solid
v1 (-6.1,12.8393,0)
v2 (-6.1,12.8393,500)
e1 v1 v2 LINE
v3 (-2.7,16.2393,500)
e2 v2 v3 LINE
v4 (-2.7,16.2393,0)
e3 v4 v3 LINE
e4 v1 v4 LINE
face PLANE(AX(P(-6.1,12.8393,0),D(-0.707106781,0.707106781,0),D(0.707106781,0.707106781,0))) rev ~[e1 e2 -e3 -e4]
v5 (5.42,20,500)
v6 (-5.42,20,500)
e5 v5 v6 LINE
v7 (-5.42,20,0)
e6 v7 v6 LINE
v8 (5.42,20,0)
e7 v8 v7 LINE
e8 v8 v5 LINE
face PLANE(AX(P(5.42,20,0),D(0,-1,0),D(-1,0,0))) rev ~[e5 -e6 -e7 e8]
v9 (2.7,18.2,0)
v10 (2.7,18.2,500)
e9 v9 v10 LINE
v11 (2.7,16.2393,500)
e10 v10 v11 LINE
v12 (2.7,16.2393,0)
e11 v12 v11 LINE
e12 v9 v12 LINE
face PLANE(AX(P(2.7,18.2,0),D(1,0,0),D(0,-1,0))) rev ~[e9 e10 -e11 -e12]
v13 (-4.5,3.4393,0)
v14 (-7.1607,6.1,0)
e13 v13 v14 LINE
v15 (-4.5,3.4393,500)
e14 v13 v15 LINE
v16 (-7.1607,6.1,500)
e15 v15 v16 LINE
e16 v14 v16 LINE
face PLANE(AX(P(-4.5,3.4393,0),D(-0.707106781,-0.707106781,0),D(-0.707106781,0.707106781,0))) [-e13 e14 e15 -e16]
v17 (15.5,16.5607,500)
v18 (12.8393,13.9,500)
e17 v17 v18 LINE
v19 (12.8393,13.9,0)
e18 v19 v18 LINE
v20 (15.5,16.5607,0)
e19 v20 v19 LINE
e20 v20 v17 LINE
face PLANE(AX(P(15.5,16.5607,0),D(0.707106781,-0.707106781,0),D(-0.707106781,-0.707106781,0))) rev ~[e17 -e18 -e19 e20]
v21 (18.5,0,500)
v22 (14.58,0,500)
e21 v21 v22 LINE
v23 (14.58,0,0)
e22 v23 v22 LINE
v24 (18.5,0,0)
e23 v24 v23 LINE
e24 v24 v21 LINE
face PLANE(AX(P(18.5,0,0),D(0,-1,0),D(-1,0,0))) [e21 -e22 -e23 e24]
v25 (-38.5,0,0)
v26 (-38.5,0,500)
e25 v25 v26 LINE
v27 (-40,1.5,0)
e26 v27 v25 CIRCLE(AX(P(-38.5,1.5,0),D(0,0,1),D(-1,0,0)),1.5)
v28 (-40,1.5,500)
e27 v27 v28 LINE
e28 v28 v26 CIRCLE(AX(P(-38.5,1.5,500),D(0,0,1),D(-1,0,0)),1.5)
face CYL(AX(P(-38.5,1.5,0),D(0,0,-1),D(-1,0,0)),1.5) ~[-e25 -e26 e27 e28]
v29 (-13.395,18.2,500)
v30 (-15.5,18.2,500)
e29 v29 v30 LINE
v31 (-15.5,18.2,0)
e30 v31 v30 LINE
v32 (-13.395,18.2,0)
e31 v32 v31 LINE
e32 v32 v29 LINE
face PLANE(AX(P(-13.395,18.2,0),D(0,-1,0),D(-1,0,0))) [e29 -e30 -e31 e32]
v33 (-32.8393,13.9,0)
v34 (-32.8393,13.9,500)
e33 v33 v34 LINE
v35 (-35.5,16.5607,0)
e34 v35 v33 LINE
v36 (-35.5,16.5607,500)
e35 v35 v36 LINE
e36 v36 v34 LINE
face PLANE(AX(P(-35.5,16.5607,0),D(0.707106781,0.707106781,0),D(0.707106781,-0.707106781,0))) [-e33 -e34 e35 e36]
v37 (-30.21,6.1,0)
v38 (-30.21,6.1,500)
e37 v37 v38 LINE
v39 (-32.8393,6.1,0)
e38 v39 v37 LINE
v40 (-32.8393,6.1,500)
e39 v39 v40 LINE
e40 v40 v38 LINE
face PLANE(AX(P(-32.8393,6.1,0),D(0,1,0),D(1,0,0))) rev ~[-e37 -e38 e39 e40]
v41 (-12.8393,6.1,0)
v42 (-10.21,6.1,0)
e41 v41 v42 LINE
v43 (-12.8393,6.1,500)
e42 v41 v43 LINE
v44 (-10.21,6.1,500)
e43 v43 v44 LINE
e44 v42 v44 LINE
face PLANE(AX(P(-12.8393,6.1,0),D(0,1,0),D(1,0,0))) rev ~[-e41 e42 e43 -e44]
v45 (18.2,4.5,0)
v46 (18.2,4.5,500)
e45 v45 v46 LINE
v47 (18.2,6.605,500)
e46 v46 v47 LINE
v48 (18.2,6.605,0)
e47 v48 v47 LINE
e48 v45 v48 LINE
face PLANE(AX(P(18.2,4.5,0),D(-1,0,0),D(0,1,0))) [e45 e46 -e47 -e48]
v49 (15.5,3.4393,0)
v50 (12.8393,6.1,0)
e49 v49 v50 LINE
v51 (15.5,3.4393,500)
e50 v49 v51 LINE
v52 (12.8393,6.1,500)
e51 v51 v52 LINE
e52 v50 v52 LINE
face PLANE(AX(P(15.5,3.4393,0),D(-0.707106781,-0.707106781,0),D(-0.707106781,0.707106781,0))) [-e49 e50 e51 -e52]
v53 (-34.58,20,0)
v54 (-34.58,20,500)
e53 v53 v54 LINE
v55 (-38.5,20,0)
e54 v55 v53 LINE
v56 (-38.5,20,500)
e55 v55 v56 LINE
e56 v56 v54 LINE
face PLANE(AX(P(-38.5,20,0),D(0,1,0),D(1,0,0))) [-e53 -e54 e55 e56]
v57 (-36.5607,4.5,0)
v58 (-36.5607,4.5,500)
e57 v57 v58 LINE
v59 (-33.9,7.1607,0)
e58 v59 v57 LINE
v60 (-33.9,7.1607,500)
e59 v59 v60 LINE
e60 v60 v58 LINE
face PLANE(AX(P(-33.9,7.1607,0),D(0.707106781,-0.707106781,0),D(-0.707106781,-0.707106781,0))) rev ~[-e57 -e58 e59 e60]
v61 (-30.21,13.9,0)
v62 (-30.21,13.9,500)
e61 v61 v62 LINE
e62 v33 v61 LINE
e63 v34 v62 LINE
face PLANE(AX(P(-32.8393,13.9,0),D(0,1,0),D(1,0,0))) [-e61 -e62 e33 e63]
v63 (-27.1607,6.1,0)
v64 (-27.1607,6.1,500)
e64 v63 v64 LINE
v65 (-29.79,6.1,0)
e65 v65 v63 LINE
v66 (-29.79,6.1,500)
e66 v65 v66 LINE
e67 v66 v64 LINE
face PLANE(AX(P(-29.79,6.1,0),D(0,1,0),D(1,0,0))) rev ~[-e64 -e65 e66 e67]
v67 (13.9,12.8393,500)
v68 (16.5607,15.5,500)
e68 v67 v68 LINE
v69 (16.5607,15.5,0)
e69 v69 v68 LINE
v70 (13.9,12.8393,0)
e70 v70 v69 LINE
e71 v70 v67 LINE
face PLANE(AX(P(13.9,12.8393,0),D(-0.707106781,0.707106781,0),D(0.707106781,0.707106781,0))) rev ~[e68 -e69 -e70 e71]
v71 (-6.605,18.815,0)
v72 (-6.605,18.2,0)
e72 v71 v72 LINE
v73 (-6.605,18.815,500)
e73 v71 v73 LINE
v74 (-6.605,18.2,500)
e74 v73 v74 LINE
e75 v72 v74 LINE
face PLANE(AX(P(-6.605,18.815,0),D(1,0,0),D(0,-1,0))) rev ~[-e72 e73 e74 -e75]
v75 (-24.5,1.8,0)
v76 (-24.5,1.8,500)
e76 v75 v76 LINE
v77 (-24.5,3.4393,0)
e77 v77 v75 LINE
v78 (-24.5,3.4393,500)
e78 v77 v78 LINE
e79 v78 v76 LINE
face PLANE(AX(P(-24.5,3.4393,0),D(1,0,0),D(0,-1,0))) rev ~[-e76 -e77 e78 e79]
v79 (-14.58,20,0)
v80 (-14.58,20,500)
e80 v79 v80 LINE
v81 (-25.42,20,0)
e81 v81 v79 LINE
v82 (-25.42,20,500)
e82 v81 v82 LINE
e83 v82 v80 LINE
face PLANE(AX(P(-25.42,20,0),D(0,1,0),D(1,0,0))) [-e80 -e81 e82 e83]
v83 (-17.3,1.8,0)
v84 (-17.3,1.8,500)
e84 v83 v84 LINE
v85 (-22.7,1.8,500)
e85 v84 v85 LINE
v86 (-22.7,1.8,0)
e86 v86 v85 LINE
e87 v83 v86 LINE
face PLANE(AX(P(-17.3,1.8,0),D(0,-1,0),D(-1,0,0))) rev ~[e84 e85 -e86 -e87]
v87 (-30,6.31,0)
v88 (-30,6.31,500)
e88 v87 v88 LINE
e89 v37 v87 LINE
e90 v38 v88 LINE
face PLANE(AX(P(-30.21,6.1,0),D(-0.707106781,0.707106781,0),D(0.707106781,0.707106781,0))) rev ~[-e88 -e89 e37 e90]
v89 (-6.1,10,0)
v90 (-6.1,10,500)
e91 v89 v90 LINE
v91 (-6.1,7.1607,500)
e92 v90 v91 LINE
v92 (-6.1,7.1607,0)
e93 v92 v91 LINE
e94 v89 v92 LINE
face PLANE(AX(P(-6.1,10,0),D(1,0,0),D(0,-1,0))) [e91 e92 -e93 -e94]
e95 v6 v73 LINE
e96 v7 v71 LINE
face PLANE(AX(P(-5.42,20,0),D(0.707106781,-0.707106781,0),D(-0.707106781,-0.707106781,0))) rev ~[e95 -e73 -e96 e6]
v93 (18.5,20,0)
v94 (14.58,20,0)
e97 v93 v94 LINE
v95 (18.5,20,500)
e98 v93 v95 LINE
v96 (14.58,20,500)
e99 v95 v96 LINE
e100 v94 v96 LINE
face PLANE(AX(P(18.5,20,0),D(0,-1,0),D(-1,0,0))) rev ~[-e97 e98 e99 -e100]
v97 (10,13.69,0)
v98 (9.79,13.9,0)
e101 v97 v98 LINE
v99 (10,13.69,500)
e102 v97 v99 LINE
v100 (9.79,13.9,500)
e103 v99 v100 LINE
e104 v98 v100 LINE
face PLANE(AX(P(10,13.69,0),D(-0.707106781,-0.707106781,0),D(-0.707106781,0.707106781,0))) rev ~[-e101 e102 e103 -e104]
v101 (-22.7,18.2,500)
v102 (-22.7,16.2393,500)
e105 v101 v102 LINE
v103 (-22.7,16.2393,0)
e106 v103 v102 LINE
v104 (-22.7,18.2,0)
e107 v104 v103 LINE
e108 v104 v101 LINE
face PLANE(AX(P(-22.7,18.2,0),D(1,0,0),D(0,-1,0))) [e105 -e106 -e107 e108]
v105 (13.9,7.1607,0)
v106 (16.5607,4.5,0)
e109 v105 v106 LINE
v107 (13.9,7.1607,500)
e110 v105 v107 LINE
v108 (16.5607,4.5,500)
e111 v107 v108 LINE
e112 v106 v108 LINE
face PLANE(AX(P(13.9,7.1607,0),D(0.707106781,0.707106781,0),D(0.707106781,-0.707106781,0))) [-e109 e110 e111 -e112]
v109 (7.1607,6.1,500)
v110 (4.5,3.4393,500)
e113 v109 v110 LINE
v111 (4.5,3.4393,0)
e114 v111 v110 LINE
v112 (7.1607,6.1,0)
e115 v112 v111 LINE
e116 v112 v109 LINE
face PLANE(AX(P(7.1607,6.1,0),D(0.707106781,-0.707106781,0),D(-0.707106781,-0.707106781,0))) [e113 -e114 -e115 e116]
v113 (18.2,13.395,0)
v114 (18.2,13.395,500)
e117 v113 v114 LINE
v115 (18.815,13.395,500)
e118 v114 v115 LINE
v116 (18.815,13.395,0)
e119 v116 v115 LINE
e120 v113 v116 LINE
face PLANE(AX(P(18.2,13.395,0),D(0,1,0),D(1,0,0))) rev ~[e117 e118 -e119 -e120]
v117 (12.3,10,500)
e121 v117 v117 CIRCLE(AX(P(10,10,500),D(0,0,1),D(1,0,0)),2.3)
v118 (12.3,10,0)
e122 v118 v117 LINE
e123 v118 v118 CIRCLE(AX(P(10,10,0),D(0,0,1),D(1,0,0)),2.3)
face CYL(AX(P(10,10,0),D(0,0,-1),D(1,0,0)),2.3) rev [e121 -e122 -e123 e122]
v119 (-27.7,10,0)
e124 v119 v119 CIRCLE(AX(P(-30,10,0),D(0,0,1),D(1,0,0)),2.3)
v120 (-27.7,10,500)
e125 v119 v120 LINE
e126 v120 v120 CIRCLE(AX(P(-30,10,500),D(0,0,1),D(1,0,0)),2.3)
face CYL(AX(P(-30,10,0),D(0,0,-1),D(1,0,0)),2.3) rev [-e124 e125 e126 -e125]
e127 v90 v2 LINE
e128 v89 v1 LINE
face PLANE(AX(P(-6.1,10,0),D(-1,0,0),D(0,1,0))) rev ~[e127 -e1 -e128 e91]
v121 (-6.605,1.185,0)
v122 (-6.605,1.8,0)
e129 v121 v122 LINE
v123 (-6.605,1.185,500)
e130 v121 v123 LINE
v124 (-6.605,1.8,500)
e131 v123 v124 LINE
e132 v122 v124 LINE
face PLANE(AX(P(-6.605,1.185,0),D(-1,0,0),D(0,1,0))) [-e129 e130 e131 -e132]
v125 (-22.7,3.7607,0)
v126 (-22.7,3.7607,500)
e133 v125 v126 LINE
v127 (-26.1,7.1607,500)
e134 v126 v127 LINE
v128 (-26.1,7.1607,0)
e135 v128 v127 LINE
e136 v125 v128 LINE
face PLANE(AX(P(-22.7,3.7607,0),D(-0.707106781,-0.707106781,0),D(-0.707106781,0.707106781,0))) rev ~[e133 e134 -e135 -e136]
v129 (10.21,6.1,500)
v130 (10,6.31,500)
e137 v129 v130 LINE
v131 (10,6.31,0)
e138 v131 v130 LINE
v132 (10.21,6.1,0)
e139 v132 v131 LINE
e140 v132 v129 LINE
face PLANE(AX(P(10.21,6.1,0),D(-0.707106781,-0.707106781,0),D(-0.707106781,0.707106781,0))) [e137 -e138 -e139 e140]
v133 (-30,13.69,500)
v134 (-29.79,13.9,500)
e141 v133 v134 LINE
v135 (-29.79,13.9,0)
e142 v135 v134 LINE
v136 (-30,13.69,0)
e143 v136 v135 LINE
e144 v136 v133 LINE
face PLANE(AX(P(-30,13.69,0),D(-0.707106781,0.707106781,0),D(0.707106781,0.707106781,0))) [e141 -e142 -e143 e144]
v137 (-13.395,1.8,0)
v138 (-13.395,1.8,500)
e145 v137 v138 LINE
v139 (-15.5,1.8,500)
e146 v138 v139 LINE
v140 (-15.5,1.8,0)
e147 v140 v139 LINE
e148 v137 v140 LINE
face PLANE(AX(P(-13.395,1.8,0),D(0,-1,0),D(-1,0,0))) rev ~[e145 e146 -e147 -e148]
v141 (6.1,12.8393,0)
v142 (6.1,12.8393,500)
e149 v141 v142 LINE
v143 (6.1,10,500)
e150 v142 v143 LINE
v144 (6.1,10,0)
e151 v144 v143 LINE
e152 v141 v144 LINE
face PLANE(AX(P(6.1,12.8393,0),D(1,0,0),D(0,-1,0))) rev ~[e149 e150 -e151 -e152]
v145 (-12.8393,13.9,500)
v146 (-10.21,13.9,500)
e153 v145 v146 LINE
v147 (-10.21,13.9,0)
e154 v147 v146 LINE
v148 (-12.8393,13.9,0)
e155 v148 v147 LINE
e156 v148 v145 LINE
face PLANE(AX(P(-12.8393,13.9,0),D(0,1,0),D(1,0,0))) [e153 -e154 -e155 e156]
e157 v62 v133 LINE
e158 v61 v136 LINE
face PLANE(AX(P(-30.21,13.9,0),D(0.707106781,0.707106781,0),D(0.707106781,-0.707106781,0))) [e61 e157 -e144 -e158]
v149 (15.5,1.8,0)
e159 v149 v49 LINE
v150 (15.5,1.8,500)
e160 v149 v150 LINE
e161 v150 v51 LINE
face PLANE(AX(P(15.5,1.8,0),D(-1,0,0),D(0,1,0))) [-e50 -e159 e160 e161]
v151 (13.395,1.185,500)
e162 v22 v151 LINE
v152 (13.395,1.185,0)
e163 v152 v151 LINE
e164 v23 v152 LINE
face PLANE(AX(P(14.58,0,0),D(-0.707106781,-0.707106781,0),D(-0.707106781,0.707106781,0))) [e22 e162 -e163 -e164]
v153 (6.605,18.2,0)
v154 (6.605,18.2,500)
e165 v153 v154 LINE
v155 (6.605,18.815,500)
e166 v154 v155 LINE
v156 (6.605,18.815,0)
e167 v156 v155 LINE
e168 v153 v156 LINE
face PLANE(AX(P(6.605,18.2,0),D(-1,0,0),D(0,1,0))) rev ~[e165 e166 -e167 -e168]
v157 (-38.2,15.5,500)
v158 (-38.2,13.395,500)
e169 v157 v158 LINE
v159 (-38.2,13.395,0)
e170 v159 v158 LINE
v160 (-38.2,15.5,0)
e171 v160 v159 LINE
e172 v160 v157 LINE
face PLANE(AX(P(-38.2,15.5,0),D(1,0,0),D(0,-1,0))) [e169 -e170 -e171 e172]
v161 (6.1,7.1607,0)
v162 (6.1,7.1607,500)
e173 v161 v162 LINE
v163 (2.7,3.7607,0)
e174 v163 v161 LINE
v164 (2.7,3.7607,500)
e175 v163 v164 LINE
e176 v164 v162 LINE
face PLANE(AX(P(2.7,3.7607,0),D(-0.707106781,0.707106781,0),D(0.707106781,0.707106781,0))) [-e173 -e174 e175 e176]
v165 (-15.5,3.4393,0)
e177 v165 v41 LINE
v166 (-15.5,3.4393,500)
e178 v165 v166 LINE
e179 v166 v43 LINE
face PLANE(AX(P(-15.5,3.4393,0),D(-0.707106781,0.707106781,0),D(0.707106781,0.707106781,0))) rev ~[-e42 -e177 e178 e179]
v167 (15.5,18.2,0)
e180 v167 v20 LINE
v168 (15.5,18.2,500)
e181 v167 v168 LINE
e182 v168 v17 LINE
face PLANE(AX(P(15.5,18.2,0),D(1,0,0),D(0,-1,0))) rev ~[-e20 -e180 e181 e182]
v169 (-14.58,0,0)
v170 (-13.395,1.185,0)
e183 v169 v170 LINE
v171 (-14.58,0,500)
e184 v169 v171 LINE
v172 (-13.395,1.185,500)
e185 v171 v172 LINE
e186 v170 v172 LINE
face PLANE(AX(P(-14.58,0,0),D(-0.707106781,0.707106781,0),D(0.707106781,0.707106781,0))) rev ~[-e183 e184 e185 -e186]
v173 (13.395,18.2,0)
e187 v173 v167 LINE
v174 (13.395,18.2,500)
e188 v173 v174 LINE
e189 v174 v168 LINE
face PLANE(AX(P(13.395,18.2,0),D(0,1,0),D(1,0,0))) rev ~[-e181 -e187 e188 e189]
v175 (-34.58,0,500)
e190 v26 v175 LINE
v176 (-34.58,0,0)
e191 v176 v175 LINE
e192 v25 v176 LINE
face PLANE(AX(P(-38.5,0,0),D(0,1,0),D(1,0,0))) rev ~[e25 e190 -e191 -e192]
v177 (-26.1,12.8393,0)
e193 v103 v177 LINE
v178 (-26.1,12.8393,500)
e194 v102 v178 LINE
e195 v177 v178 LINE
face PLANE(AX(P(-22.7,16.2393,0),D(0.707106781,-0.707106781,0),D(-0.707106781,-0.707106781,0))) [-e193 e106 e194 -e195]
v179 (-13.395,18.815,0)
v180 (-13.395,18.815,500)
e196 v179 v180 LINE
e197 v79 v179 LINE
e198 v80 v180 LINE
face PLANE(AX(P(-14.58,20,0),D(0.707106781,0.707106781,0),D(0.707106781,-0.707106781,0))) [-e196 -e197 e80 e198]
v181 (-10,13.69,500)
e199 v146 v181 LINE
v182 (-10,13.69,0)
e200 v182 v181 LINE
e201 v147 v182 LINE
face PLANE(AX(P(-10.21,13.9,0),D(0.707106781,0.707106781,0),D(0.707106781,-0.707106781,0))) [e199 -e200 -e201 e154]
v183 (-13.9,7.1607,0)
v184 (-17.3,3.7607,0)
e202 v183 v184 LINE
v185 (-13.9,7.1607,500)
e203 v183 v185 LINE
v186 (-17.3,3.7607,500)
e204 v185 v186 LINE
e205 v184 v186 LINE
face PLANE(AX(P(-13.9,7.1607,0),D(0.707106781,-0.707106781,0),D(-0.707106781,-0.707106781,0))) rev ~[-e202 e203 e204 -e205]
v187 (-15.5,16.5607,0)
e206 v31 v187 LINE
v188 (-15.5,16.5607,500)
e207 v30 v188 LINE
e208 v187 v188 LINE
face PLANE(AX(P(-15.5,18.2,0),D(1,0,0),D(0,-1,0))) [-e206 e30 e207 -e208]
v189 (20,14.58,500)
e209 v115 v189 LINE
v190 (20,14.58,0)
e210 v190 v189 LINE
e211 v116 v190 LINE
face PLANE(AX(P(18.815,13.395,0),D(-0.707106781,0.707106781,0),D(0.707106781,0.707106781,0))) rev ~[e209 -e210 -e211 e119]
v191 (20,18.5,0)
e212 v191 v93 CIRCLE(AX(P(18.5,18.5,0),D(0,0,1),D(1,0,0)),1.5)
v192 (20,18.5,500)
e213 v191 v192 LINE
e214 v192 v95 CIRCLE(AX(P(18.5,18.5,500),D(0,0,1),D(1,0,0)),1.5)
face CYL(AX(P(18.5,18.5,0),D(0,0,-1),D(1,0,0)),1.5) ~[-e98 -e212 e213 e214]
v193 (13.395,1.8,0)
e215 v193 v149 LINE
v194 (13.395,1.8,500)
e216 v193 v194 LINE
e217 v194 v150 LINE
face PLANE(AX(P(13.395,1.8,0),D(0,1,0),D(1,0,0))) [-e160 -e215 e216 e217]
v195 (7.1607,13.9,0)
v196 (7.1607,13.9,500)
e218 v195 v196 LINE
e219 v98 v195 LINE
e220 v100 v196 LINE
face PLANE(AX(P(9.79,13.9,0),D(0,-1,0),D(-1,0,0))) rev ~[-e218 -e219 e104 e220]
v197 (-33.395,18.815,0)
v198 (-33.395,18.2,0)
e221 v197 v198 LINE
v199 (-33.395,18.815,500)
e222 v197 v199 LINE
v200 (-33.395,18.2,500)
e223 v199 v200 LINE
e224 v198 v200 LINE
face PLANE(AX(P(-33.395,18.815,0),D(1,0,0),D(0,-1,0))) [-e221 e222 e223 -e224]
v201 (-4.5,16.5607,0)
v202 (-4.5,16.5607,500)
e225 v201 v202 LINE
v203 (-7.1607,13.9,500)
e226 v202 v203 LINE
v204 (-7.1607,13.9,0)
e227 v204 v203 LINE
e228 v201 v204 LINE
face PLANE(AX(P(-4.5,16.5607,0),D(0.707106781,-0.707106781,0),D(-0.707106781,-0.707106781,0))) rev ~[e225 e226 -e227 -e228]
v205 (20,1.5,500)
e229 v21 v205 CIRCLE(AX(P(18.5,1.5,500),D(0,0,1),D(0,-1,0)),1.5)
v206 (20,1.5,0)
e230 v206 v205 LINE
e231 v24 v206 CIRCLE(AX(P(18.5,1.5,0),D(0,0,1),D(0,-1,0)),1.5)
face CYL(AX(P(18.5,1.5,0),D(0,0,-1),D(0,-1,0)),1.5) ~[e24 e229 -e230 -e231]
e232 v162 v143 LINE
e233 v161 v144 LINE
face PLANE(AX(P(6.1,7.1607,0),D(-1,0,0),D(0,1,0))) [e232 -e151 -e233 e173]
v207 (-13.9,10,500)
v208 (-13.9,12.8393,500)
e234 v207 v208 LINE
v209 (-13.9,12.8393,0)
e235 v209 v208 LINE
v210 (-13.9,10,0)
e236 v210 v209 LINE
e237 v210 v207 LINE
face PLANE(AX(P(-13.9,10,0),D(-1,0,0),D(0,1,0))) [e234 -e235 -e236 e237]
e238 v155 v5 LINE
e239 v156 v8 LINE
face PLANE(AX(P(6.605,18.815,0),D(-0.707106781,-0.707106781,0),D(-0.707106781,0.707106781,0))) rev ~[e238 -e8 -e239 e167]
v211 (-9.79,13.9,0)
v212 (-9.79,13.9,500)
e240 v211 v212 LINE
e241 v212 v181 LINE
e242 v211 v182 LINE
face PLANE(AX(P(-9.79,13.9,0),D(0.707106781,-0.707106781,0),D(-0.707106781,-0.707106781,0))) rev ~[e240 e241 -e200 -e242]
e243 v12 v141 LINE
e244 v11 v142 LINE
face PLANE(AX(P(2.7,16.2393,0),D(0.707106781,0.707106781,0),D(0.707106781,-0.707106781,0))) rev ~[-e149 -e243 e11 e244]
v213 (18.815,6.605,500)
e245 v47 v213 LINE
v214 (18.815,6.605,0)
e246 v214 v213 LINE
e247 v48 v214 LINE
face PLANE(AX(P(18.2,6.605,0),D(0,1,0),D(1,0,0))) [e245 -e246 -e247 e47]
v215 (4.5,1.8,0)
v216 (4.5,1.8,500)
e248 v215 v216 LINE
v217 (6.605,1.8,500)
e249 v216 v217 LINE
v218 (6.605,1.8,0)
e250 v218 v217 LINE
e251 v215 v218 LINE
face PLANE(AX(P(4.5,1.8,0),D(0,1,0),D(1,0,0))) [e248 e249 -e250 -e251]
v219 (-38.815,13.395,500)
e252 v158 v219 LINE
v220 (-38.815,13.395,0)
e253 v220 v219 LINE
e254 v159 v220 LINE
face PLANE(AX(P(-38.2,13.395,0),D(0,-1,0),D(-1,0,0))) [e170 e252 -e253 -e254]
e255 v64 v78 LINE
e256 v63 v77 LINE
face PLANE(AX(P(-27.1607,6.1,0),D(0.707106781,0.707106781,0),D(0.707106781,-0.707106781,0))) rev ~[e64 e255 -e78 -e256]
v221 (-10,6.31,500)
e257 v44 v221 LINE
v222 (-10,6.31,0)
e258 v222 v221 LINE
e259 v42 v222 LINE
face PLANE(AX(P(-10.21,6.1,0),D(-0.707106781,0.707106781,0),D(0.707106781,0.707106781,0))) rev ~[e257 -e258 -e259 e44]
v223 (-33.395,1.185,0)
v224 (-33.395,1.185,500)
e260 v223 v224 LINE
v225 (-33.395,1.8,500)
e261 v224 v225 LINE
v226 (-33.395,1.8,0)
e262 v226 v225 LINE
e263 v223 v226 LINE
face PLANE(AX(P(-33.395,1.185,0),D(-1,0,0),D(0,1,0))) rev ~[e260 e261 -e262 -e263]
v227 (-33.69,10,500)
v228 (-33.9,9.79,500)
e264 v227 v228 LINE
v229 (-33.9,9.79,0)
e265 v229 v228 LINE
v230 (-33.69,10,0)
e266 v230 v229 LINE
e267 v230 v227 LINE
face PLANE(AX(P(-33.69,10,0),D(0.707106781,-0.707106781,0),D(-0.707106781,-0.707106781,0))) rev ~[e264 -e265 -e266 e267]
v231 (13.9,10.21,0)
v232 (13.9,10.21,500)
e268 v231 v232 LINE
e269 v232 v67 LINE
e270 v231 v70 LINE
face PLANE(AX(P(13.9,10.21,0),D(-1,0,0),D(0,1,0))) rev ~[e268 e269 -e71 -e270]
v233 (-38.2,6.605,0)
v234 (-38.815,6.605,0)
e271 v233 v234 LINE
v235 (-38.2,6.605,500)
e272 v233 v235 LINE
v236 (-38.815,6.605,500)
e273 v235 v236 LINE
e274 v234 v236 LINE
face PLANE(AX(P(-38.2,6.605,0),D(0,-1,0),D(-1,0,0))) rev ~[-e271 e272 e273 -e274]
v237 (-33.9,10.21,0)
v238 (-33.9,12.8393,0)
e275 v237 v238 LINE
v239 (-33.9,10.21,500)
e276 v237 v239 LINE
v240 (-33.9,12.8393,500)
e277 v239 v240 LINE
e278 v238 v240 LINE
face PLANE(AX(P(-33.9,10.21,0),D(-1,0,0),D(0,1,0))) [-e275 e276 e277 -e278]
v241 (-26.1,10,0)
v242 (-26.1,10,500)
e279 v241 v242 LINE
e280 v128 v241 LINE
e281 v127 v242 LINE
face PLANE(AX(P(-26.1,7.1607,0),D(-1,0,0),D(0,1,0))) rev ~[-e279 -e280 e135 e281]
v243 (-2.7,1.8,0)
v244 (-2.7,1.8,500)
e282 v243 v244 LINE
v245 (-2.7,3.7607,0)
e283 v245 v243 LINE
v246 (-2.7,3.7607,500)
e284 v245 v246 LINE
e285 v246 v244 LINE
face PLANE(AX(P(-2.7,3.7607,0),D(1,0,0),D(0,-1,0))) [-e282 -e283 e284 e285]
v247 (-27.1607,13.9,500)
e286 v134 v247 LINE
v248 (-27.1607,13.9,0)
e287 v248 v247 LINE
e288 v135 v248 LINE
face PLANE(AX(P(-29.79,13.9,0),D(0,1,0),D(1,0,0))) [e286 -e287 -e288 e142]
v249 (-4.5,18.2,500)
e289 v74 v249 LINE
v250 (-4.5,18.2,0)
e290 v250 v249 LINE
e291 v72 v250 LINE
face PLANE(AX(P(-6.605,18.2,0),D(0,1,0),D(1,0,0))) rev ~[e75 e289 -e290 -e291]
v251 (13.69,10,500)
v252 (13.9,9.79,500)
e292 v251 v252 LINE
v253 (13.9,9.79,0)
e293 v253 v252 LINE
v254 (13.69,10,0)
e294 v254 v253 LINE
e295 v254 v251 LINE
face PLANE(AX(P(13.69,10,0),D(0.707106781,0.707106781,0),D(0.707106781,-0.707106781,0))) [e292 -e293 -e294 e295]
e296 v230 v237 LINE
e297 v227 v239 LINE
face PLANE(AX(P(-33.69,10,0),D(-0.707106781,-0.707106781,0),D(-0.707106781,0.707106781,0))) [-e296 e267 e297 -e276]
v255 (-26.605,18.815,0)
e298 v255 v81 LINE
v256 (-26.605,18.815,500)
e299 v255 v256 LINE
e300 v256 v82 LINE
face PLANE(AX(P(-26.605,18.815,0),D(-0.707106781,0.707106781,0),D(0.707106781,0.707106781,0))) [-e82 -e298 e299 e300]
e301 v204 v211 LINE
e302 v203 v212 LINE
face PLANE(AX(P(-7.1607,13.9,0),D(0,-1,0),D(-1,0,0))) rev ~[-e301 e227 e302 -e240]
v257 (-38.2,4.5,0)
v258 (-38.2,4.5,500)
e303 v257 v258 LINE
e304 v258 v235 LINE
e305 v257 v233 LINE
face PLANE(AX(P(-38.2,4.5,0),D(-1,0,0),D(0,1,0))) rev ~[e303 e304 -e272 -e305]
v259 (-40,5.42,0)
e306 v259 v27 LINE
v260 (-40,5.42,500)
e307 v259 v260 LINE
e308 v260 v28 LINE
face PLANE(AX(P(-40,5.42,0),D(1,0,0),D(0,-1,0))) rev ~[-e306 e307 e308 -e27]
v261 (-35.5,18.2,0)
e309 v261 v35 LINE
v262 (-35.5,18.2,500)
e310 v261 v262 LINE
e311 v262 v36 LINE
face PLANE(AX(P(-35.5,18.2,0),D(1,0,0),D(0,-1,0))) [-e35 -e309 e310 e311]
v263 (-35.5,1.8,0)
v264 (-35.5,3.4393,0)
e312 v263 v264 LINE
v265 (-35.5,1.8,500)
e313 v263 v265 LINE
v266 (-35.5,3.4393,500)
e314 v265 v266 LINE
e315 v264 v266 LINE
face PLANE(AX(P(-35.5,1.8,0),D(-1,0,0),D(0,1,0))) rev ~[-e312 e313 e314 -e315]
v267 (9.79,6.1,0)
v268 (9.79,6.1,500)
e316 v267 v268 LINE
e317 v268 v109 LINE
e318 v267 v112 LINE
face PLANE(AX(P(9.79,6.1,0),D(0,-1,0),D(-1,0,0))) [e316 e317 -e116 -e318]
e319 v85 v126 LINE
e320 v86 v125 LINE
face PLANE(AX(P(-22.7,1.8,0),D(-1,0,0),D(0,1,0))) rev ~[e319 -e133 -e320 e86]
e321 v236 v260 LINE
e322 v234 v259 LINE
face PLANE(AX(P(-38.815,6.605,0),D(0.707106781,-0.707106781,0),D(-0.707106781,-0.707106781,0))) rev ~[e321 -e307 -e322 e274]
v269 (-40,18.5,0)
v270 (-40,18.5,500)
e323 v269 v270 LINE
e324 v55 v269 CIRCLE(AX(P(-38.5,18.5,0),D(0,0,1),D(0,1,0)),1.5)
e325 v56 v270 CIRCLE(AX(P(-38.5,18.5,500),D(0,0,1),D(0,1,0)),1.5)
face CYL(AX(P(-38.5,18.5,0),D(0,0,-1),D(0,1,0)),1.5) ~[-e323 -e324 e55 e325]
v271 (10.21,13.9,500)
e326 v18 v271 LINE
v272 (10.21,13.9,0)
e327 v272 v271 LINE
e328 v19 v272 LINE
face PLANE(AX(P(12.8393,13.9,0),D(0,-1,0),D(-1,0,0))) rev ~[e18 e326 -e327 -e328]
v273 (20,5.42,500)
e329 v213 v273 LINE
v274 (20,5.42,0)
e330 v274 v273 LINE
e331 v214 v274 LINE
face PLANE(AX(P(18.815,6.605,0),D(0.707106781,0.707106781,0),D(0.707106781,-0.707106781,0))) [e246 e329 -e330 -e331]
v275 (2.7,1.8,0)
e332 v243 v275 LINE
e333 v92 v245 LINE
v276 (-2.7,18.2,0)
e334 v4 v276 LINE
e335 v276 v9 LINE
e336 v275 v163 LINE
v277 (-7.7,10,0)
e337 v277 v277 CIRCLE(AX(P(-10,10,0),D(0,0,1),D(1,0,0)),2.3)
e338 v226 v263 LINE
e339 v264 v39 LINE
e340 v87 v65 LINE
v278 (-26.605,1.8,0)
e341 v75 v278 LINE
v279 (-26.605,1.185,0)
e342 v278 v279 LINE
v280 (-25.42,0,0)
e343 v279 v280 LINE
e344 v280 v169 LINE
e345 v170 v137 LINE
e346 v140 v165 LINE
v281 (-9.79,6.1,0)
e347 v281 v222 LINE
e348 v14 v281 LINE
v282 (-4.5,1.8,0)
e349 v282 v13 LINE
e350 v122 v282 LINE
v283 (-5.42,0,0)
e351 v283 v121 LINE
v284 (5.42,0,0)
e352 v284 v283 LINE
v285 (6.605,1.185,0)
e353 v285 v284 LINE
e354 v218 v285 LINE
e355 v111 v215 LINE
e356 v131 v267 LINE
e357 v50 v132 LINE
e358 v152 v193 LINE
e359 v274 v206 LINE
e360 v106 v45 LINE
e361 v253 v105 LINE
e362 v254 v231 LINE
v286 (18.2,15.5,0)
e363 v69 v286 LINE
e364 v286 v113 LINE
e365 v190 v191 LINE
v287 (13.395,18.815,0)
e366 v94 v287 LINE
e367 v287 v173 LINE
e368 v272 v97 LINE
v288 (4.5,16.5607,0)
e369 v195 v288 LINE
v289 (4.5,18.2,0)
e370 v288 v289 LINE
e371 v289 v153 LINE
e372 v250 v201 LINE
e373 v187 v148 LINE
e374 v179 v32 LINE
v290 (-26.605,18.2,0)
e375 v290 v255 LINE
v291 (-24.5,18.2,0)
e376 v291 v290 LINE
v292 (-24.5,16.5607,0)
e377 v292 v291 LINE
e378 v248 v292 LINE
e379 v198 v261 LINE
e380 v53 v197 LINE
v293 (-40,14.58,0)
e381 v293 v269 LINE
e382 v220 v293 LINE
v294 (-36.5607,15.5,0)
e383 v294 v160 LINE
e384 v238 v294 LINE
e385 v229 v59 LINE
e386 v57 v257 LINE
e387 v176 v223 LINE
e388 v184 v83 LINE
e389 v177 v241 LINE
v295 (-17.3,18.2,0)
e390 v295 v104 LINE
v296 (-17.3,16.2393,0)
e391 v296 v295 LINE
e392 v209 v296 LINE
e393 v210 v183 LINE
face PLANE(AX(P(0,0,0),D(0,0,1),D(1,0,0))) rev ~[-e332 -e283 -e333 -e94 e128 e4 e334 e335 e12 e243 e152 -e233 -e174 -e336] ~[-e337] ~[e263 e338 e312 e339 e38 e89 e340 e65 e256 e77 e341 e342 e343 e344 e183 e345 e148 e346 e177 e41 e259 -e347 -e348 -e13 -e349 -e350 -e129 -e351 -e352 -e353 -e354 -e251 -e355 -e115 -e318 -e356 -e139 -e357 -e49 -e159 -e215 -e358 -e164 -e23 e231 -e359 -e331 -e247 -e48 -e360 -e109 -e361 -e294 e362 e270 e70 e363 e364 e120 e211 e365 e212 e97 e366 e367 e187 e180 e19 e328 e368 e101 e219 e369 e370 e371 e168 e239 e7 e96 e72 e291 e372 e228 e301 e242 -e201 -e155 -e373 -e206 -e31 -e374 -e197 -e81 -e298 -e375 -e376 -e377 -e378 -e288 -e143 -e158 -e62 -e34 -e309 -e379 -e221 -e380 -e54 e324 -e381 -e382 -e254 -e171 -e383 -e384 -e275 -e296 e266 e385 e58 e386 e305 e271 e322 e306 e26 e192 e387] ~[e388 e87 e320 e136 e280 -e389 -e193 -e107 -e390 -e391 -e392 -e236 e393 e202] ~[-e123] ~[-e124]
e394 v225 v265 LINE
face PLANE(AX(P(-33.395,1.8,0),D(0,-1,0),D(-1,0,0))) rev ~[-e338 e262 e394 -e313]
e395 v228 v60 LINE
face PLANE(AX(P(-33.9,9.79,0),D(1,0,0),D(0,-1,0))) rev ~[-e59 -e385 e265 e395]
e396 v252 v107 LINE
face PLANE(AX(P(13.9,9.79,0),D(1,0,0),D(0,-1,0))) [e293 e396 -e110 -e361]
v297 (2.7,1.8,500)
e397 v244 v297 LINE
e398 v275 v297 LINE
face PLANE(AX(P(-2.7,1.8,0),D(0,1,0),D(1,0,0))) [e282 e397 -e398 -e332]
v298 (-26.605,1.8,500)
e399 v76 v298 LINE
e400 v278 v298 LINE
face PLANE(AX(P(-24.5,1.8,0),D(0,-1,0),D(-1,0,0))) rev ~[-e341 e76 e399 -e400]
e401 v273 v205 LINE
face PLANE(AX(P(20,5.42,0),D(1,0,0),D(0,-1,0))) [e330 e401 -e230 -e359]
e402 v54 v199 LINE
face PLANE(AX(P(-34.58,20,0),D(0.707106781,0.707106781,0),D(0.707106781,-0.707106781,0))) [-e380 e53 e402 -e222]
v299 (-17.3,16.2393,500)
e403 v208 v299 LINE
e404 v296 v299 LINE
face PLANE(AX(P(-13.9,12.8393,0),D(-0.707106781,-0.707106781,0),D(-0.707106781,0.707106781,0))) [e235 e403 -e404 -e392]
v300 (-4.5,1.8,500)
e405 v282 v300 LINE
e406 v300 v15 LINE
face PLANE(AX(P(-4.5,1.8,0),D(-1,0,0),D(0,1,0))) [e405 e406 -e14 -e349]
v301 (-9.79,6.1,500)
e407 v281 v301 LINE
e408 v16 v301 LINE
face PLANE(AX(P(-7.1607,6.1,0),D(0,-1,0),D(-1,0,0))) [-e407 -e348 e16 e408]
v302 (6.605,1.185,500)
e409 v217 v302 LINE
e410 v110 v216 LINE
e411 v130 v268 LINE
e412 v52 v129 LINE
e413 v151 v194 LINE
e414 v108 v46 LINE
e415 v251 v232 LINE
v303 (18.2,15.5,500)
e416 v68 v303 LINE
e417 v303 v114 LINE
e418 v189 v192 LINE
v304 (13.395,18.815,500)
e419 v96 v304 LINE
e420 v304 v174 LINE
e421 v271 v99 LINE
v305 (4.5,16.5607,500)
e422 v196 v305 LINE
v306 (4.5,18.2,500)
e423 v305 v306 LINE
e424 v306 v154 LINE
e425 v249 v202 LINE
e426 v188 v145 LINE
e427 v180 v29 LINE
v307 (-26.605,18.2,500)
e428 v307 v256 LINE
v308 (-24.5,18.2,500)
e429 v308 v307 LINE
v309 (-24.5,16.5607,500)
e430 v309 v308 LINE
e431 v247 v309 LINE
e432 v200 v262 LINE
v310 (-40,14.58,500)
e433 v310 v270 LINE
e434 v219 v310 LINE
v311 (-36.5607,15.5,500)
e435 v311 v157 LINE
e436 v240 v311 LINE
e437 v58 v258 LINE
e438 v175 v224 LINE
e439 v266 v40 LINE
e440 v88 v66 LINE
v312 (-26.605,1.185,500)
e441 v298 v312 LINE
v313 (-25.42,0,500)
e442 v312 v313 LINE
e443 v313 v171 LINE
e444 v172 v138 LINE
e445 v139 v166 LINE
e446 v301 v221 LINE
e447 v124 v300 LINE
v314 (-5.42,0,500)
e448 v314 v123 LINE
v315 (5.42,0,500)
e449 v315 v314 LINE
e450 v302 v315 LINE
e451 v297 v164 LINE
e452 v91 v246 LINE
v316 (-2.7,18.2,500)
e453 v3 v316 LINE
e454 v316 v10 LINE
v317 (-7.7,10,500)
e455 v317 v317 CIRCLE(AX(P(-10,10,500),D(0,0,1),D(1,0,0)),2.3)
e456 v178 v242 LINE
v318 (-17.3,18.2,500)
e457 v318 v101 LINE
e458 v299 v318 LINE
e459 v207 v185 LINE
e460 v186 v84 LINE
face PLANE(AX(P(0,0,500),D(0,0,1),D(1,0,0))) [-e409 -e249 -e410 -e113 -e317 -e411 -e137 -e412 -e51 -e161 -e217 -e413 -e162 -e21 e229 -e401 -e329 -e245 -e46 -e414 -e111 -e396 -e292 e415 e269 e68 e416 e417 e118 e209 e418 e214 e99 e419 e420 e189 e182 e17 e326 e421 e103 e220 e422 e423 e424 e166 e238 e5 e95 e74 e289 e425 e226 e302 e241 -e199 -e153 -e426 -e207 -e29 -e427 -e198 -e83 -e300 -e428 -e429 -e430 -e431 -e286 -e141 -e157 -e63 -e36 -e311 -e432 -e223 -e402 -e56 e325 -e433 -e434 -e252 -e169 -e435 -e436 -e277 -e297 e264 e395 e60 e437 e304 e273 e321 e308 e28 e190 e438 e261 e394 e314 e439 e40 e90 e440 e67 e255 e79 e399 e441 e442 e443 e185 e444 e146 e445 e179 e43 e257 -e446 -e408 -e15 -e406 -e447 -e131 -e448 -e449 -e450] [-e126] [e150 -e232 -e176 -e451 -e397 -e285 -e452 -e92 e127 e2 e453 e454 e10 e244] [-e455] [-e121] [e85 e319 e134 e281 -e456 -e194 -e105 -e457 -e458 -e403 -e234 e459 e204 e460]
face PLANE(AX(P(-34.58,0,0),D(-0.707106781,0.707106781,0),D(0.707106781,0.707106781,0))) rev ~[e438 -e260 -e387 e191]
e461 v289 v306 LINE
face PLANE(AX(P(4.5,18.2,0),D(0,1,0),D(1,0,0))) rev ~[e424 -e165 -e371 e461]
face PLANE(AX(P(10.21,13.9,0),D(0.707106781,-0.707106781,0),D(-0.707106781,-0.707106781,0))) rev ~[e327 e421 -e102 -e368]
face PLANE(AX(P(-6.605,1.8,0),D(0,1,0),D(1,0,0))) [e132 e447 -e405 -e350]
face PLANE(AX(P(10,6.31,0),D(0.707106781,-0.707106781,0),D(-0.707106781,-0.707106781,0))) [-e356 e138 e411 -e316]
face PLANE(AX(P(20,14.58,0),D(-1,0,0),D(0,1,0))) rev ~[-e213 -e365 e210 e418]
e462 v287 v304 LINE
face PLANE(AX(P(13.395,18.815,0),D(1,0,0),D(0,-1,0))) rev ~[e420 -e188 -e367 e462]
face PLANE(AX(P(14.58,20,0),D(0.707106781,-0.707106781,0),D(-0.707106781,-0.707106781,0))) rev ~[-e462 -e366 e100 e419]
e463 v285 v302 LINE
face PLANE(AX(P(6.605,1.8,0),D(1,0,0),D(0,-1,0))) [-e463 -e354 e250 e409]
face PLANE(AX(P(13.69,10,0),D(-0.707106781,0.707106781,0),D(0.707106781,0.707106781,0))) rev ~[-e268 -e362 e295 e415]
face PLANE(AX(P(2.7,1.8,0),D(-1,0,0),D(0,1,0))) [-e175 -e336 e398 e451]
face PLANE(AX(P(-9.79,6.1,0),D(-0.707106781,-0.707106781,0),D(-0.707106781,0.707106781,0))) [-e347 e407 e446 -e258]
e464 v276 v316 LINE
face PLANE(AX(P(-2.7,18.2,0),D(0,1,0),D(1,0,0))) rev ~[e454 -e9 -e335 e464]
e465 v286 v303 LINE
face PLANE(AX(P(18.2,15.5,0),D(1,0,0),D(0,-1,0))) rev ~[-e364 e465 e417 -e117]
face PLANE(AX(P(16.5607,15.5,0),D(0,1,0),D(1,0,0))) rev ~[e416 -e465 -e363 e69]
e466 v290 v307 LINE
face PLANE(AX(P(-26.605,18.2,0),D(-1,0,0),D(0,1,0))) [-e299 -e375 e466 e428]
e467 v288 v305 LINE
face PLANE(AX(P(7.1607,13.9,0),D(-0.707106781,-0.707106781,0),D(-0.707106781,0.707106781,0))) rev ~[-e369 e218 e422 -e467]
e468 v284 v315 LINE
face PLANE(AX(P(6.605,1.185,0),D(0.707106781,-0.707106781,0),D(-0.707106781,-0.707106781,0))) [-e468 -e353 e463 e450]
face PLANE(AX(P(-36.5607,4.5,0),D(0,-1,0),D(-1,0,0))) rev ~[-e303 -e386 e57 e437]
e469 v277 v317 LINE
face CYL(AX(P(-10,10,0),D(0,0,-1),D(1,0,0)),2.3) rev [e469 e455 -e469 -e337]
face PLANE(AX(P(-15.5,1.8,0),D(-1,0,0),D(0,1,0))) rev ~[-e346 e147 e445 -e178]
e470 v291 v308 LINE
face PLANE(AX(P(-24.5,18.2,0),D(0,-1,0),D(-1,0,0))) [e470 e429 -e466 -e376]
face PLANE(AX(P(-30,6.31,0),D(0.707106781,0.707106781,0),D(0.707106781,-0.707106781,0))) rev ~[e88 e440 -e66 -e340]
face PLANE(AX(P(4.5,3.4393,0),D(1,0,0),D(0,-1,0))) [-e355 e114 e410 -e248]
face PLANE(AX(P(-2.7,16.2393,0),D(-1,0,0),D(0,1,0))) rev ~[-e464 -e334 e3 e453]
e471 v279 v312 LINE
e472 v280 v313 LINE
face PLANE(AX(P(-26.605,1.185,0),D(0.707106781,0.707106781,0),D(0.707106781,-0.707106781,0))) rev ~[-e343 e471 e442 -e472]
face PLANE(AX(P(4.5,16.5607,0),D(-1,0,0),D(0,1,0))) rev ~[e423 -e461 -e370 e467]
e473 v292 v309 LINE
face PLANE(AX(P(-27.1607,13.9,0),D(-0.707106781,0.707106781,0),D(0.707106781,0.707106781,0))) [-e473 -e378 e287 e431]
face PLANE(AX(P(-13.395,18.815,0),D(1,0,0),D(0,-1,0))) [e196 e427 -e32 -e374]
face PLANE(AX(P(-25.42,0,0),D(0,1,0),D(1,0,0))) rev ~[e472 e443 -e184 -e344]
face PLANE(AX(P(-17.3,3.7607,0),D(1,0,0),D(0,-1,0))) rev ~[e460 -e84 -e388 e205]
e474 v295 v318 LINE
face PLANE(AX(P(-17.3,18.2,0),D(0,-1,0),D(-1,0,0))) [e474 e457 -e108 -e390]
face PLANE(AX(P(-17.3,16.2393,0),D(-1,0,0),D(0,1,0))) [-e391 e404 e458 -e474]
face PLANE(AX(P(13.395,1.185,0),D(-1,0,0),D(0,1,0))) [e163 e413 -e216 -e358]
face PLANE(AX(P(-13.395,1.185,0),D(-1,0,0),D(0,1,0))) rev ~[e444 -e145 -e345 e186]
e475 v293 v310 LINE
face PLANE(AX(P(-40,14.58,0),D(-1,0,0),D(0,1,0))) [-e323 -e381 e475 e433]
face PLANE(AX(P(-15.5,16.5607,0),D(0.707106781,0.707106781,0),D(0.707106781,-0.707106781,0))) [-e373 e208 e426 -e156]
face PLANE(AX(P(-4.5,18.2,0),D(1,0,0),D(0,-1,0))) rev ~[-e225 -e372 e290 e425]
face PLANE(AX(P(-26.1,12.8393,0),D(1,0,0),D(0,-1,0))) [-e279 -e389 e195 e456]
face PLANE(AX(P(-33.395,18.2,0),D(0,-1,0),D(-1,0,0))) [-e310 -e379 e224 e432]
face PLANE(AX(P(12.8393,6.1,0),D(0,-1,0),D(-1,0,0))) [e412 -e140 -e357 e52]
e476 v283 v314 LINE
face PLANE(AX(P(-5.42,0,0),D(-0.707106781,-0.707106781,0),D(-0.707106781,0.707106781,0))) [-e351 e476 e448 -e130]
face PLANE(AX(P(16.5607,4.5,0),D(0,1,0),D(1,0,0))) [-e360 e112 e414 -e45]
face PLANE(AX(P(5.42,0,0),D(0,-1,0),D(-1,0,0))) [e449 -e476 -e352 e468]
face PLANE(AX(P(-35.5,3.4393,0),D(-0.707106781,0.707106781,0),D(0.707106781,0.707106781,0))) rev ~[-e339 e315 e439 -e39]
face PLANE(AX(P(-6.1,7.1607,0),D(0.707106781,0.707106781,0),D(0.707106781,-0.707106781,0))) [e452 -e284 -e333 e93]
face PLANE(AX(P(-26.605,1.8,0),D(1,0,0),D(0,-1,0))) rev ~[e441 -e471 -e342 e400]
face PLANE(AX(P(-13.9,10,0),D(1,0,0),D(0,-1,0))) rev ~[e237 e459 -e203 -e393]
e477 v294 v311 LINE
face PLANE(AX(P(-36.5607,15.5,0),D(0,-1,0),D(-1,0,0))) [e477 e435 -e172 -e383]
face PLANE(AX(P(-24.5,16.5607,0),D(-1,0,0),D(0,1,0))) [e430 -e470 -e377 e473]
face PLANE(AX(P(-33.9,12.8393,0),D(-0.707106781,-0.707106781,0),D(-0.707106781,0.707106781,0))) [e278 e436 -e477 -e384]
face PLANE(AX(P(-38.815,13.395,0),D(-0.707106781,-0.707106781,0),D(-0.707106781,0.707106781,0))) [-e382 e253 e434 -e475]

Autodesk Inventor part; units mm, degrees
ref_plane "YZ Plane" through (0, 0, 0) normal (1, 0, 0) x (0, 1, 0)
ref_plane "XZ Plane" through (0, 0, 0) normal (0, 1, 0) x (-1, 0, 0)
ref_plane "XY Plane" through (0, 0, 0) normal (0, 0, 1) x (1, 0, 0)
sketch "Sketch1" plane through (0, 0, 0) normal (0, 0, 1) x (1, 0, 0)
  line L0 (-33.69, 10) -> (-33.9, 10.21)
  line L1 (-33.9, 10.21) -> (-33.9, 12.8393)
  line L2 (-33.9, 12.8393) -> (-36.5607, 15.5)
  line L3 (-36.5607, 15.5) -> (-38.2, 15.5)
  line L4 (-38.2, 15.5) -> (-38.2, 13.395)
  line L5 (-38.2, 13.395) -> (-38.815, 13.395)
  line L6 (-38.815, 13.395) -> (-40, 14.58)
  line L7 (-40, 14.58) -> (-40, 18.5)
  arc A0 (-38.5, 20) -> (-40, 18.5) centre (-38.5, 18.5) ccw
  line L8 (-38.5, 20) -> (-34.58, 20)
  line L9 (-34.58, 20) -> (-33.395, 18.815)
  line L10 (-33.395, 18.815) -> (-33.395, 18.2)
  line L11 (-33.395, 18.2) -> (-35.5, 18.2)
  line L12 (-35.5, 18.2) -> (-35.5, 16.5607)
  line L13 (-35.5, 16.5607) -> (-32.8393, 13.9)
  line L14 (-32.8393, 13.9) -> (-30.21, 13.9)
  line L15 (-30.21, 13.9) -> (-30, 13.69)
  line L16 (-30, 13.69) -> (-29.79, 13.9)
  line L17 (-29.79, 13.9) -> (-27.1607, 13.9)
  line L18 (-27.1607, 13.9) -> (-24.5, 16.5607)
  line L19 (-24.5, 16.5607) -> (-24.5, 18.2)
  line L20 (-24.5, 18.2) -> (-26.605, 18.2)
  line L21 (-26.605, 18.2) -> (-26.605, 18.815)
  line L22 (-26.605, 18.815) -> (-25.42, 20)
  line L23 (-25.42, 20) -> (-14.58, 20)
  line L24 (-14.58, 20) -> (-13.395, 18.815)
  line L25 (-13.395, 18.815) -> (-13.395, 18.2)
  line L26 (-13.395, 18.2) -> (-15.5, 18.2)
  line L27 (-15.5, 18.2) -> (-15.5, 16.5607)
  line L28 (-15.5, 16.5607) -> (-12.8393, 13.9)
  line L29 (-12.8393, 13.9) -> (-10.21, 13.9)
  line L30 (-10.21, 13.9) -> (-10, 13.69)
  line L31 (-17.3, 16.2393) -> (-17.3, 18.2)
  line L32 (-17.3, 18.2) -> (-22.7, 18.2)
  line L33 (-22.7, 18.2) -> (-22.7, 16.2393)
  line L34 (-22.7, 16.2393) -> (-26.1, 12.8393)
  line L35 (-26.1, 12.8393) -> (-26.1, 10)
  line L36 (-13.9, 10) -> (-13.9, 12.8393)
  line L37 (-13.9, 12.8393) -> (-17.3, 16.2393)
  circle A1 centre (-10, 10) radius 2.3
  circle A2 centre (-30, 10) radius 2.3
  line L38 (-24.5, 1.8) -> (-26.605, 1.8)
  line L39 (-24.5, 3.4393) -> (-24.5, 1.8)
  line L40 (-22.7, 3.7607) -> (-26.1, 7.1607)
  line L41 (-22.7, 1.8) -> (-22.7, 3.7607)
  line L42 (-29.79, 6.1) -> (-27.1607, 6.1)
  line L43 (-30, 6.31) -> (-29.79, 6.1)
  line L44 (-30.21, 6.1) -> (-30, 6.31)
  line L45 (-32.8393, 6.1) -> (-30.21, 6.1)
  line L46 (-33.9, 9.79) -> (-33.9, 7.1607)
  line L47 (-33.69, 10) -> (-33.9, 9.79)
  line L48 (-26.1, 7.1607) -> (-26.1, 10)
  line L49 (-27.1607, 6.1) -> (-24.5, 3.4393)
  line L50 (-13.9, 10) -> (-13.9, 7.1607)
  line L51 (-12.8393, 6.1) -> (-10.21, 6.1)
  line L52 (-10.21, 6.1) -> (-10, 6.31)
  line L53 (-33.395, 1.185) -> (-33.395, 1.8)
  line L54 (-35.5, 3.4393) -> (-32.8393, 6.1)
  line L55 (-33.395, 1.8) -> (-35.5, 1.8)
  line L56 (-35.5, 1.8) -> (-35.5, 3.4393)
  line L57 (-34.58, 0) -> (-33.395, 1.185)
  line L58 (-33.9, 7.1607) -> (-36.5607, 4.5)
  line L59 (-36.5607, 4.5) -> (-38.2, 4.5)
  line L60 (-38.2, 4.5) -> (-38.2, 6.605)
  line L61 (-38.2, 6.605) -> (-38.815, 6.605)
  line L62 (-38.815, 6.605) -> (-40, 5.42)
  line L63 (-38.5, 0) -> (-34.58, 0)
  arc A3 (-40, 1.5) -> (-38.5, 0) centre (-38.5, 1.5) ccw
  line L64 (-40, 5.42) -> (-40, 1.5)
  line L65 (-26.605, 1.8) -> (-26.605, 1.185)
  line L66 (-13.9, 7.1607) -> (-17.3, 3.7607)
  line L67 (-13.395, 1.8) -> (-15.5, 1.8)
  line L68 (-17.3, 3.7607) -> (-17.3, 1.8)
  line L69 (-15.5, 1.8) -> (-15.5, 3.4393)
  line L70 (-13.395, 1.185) -> (-13.395, 1.8)
  line L71 (-14.58, 0) -> (-13.395, 1.185)
  line L72 (-17.3, 1.8) -> (-22.7, 1.8)
  line L73 (-25.42, 0) -> (-14.58, 0)
  line L74 (-26.605, 1.185) -> (-25.42, 0)
  line L75 (-15.5, 3.4393) -> (-12.8393, 6.1)
  line L76 (4.5, 18.2) -> (6.605, 18.2)
  line L77 (4.5, 16.5607) -> (4.5, 18.2)
  line L78 (2.7, 16.2393) -> (6.1, 12.8393)
  line L79 (2.7, 18.2) -> (2.7, 16.2393)
  line L80 (9.79, 13.9) -> (7.1607, 13.9)
  line L81 (10, 13.69) -> (9.79, 13.9)
  line L82 (10.21, 13.9) -> (10, 13.69)
  line L83 (12.8393, 13.9) -> (10.21, 13.9)
  line L84 (13.9, 10.21) -> (13.9, 12.8393)
  line L85 (13.69, 10) -> (13.9, 10.21)
  line L86 (6.1, 12.8393) -> (6.1, 10)
  circle A4 centre (10, 10) radius 2.3
  line L87 (7.1607, 13.9) -> (4.5, 16.5607)
  line L88 (-6.1, 10) -> (-6.1, 12.8393)
  line L89 (-7.1607, 13.9) -> (-9.79, 13.9)
  line L90 (-9.79, 13.9) -> (-10, 13.69)
  line L91 (13.395, 18.815) -> (13.395, 18.2)
  line L92 (15.5, 16.5607) -> (12.8393, 13.9)
  line L93 (13.395, 18.2) -> (15.5, 18.2)
  line L94 (15.5, 18.2) -> (15.5, 16.5607)
  line L95 (14.58, 20) -> (13.395, 18.815)
  line L96 (13.9, 12.8393) -> (16.5607, 15.5)
  line L97 (16.5607, 15.5) -> (18.2, 15.5)
  line L98 (18.2, 15.5) -> (18.2, 13.395)
  line L99 (18.2, 13.395) -> (18.815, 13.395)
  line L100 (18.815, 13.395) -> (20, 14.58)
  line L101 (18.5, 20) -> (14.58, 20)
  arc A5 (20, 18.5) -> (18.5, 20) centre (18.5, 18.5) ccw
  line L102 (20, 14.58) -> (20, 18.5)
  line L103 (6.605, 18.2) -> (6.605, 18.815)
  line L104 (-6.1, 12.8393) -> (-2.7, 16.2393)
  line L105 (-6.605, 18.2) -> (-4.5, 18.2)
  line L106 (-2.7, 16.2393) -> (-2.7, 18.2)
  line L107 (-4.5, 18.2) -> (-4.5, 16.5607)
  line L108 (-6.605, 18.815) -> (-6.605, 18.2)
  line L109 (-5.42, 20) -> (-6.605, 18.815)
  line L110 (-2.7, 18.2) -> (2.7, 18.2)
  line L111 (5.42, 20) -> (-5.42, 20)
  line L112 (6.605, 18.815) -> (5.42, 20)
  line L113 (-4.5, 16.5607) -> (-7.1607, 13.9)
  line L114 (4.5, 1.8) -> (6.605, 1.8)
  line L115 (4.5, 3.4393) -> (4.5, 1.8)
  line L116 (2.7, 3.7607) -> (6.1, 7.1607)
  line L117 (2.7, 1.8) -> (2.7, 3.7607)
  line L118 (-6.605, 1.185) -> (-6.605, 1.8)
  line L119 (-6.1, 10) -> (-6.1, 7.1607)
  line L120 (-5.42, 0) -> (-6.605, 1.185)
  line L121 (-4.5, 3.4393) -> (-7.1607, 6.1)
  line L122 (-6.605, 1.8) -> (-4.5, 1.8)
  line L123 (-4.5, 1.8) -> (-4.5, 3.4393)
  line L124 (-6.1, 7.1607) -> (-2.7, 3.7607)
  line L125 (-2.7, 1.8) -> (2.7, 1.8)
  line L126 (5.42, 0) -> (-5.42, 0)
  line L127 (-2.7, 3.7607) -> (-2.7, 1.8)
  line L128 (6.1, 7.1607) -> (6.1, 10)
  line L129 (9.79, 6.1) -> (7.1607, 6.1)
  line L130 (10, 6.31) -> (9.79, 6.1)
  line L131 (10.21, 6.1) -> (10, 6.31)
  line L132 (7.1607, 6.1) -> (4.5, 3.4393)
  line L133 (-7.1607, 6.1) -> (-9.79, 6.1)
  line L134 (-9.79, 6.1) -> (-10, 6.31)
  line L135 (13.395, 1.185) -> (13.395, 1.8)
  line L136 (12.8393, 6.1) -> (10.21, 6.1)
  line L137 (13.9, 9.79) -> (13.9, 7.1607)
  line L138 (13.69, 10) -> (13.9, 9.79)
  line L139 (15.5, 3.4393) -> (12.8393, 6.1)
  line L140 (13.395, 1.8) -> (15.5, 1.8)
  line L141 (15.5, 1.8) -> (15.5, 3.4393)
  line L142 (14.58, 0) -> (13.395, 1.185)
  line L143 (6.605, 1.8) -> (6.605, 1.185)
  line L144 (13.9, 7.1607) -> (16.5607, 4.5)
  line L145 (16.5607, 4.5) -> (18.2, 4.5)
  line L146 (18.2, 4.5) -> (18.2, 6.605)
  line L147 (18.2, 6.605) -> (18.815, 6.605)
  line L148 (18.5, 0) -> (14.58, 0)
  line L149 (18.815, 6.605) -> (20, 5.42)
  line L150 (20, 5.42) -> (20, 1.5)
  arc A6 (18.5, 0) -> (20, 1.5) centre (18.5, 1.5) ccw
  line L151 (6.605, 1.185) -> (5.42, 0)
extrude "Extrusion4" add sketch "Sketch1" along normal blind 500
properties part number "Aluminium Profile 2060 500mm" material "Aluminum 6061"
